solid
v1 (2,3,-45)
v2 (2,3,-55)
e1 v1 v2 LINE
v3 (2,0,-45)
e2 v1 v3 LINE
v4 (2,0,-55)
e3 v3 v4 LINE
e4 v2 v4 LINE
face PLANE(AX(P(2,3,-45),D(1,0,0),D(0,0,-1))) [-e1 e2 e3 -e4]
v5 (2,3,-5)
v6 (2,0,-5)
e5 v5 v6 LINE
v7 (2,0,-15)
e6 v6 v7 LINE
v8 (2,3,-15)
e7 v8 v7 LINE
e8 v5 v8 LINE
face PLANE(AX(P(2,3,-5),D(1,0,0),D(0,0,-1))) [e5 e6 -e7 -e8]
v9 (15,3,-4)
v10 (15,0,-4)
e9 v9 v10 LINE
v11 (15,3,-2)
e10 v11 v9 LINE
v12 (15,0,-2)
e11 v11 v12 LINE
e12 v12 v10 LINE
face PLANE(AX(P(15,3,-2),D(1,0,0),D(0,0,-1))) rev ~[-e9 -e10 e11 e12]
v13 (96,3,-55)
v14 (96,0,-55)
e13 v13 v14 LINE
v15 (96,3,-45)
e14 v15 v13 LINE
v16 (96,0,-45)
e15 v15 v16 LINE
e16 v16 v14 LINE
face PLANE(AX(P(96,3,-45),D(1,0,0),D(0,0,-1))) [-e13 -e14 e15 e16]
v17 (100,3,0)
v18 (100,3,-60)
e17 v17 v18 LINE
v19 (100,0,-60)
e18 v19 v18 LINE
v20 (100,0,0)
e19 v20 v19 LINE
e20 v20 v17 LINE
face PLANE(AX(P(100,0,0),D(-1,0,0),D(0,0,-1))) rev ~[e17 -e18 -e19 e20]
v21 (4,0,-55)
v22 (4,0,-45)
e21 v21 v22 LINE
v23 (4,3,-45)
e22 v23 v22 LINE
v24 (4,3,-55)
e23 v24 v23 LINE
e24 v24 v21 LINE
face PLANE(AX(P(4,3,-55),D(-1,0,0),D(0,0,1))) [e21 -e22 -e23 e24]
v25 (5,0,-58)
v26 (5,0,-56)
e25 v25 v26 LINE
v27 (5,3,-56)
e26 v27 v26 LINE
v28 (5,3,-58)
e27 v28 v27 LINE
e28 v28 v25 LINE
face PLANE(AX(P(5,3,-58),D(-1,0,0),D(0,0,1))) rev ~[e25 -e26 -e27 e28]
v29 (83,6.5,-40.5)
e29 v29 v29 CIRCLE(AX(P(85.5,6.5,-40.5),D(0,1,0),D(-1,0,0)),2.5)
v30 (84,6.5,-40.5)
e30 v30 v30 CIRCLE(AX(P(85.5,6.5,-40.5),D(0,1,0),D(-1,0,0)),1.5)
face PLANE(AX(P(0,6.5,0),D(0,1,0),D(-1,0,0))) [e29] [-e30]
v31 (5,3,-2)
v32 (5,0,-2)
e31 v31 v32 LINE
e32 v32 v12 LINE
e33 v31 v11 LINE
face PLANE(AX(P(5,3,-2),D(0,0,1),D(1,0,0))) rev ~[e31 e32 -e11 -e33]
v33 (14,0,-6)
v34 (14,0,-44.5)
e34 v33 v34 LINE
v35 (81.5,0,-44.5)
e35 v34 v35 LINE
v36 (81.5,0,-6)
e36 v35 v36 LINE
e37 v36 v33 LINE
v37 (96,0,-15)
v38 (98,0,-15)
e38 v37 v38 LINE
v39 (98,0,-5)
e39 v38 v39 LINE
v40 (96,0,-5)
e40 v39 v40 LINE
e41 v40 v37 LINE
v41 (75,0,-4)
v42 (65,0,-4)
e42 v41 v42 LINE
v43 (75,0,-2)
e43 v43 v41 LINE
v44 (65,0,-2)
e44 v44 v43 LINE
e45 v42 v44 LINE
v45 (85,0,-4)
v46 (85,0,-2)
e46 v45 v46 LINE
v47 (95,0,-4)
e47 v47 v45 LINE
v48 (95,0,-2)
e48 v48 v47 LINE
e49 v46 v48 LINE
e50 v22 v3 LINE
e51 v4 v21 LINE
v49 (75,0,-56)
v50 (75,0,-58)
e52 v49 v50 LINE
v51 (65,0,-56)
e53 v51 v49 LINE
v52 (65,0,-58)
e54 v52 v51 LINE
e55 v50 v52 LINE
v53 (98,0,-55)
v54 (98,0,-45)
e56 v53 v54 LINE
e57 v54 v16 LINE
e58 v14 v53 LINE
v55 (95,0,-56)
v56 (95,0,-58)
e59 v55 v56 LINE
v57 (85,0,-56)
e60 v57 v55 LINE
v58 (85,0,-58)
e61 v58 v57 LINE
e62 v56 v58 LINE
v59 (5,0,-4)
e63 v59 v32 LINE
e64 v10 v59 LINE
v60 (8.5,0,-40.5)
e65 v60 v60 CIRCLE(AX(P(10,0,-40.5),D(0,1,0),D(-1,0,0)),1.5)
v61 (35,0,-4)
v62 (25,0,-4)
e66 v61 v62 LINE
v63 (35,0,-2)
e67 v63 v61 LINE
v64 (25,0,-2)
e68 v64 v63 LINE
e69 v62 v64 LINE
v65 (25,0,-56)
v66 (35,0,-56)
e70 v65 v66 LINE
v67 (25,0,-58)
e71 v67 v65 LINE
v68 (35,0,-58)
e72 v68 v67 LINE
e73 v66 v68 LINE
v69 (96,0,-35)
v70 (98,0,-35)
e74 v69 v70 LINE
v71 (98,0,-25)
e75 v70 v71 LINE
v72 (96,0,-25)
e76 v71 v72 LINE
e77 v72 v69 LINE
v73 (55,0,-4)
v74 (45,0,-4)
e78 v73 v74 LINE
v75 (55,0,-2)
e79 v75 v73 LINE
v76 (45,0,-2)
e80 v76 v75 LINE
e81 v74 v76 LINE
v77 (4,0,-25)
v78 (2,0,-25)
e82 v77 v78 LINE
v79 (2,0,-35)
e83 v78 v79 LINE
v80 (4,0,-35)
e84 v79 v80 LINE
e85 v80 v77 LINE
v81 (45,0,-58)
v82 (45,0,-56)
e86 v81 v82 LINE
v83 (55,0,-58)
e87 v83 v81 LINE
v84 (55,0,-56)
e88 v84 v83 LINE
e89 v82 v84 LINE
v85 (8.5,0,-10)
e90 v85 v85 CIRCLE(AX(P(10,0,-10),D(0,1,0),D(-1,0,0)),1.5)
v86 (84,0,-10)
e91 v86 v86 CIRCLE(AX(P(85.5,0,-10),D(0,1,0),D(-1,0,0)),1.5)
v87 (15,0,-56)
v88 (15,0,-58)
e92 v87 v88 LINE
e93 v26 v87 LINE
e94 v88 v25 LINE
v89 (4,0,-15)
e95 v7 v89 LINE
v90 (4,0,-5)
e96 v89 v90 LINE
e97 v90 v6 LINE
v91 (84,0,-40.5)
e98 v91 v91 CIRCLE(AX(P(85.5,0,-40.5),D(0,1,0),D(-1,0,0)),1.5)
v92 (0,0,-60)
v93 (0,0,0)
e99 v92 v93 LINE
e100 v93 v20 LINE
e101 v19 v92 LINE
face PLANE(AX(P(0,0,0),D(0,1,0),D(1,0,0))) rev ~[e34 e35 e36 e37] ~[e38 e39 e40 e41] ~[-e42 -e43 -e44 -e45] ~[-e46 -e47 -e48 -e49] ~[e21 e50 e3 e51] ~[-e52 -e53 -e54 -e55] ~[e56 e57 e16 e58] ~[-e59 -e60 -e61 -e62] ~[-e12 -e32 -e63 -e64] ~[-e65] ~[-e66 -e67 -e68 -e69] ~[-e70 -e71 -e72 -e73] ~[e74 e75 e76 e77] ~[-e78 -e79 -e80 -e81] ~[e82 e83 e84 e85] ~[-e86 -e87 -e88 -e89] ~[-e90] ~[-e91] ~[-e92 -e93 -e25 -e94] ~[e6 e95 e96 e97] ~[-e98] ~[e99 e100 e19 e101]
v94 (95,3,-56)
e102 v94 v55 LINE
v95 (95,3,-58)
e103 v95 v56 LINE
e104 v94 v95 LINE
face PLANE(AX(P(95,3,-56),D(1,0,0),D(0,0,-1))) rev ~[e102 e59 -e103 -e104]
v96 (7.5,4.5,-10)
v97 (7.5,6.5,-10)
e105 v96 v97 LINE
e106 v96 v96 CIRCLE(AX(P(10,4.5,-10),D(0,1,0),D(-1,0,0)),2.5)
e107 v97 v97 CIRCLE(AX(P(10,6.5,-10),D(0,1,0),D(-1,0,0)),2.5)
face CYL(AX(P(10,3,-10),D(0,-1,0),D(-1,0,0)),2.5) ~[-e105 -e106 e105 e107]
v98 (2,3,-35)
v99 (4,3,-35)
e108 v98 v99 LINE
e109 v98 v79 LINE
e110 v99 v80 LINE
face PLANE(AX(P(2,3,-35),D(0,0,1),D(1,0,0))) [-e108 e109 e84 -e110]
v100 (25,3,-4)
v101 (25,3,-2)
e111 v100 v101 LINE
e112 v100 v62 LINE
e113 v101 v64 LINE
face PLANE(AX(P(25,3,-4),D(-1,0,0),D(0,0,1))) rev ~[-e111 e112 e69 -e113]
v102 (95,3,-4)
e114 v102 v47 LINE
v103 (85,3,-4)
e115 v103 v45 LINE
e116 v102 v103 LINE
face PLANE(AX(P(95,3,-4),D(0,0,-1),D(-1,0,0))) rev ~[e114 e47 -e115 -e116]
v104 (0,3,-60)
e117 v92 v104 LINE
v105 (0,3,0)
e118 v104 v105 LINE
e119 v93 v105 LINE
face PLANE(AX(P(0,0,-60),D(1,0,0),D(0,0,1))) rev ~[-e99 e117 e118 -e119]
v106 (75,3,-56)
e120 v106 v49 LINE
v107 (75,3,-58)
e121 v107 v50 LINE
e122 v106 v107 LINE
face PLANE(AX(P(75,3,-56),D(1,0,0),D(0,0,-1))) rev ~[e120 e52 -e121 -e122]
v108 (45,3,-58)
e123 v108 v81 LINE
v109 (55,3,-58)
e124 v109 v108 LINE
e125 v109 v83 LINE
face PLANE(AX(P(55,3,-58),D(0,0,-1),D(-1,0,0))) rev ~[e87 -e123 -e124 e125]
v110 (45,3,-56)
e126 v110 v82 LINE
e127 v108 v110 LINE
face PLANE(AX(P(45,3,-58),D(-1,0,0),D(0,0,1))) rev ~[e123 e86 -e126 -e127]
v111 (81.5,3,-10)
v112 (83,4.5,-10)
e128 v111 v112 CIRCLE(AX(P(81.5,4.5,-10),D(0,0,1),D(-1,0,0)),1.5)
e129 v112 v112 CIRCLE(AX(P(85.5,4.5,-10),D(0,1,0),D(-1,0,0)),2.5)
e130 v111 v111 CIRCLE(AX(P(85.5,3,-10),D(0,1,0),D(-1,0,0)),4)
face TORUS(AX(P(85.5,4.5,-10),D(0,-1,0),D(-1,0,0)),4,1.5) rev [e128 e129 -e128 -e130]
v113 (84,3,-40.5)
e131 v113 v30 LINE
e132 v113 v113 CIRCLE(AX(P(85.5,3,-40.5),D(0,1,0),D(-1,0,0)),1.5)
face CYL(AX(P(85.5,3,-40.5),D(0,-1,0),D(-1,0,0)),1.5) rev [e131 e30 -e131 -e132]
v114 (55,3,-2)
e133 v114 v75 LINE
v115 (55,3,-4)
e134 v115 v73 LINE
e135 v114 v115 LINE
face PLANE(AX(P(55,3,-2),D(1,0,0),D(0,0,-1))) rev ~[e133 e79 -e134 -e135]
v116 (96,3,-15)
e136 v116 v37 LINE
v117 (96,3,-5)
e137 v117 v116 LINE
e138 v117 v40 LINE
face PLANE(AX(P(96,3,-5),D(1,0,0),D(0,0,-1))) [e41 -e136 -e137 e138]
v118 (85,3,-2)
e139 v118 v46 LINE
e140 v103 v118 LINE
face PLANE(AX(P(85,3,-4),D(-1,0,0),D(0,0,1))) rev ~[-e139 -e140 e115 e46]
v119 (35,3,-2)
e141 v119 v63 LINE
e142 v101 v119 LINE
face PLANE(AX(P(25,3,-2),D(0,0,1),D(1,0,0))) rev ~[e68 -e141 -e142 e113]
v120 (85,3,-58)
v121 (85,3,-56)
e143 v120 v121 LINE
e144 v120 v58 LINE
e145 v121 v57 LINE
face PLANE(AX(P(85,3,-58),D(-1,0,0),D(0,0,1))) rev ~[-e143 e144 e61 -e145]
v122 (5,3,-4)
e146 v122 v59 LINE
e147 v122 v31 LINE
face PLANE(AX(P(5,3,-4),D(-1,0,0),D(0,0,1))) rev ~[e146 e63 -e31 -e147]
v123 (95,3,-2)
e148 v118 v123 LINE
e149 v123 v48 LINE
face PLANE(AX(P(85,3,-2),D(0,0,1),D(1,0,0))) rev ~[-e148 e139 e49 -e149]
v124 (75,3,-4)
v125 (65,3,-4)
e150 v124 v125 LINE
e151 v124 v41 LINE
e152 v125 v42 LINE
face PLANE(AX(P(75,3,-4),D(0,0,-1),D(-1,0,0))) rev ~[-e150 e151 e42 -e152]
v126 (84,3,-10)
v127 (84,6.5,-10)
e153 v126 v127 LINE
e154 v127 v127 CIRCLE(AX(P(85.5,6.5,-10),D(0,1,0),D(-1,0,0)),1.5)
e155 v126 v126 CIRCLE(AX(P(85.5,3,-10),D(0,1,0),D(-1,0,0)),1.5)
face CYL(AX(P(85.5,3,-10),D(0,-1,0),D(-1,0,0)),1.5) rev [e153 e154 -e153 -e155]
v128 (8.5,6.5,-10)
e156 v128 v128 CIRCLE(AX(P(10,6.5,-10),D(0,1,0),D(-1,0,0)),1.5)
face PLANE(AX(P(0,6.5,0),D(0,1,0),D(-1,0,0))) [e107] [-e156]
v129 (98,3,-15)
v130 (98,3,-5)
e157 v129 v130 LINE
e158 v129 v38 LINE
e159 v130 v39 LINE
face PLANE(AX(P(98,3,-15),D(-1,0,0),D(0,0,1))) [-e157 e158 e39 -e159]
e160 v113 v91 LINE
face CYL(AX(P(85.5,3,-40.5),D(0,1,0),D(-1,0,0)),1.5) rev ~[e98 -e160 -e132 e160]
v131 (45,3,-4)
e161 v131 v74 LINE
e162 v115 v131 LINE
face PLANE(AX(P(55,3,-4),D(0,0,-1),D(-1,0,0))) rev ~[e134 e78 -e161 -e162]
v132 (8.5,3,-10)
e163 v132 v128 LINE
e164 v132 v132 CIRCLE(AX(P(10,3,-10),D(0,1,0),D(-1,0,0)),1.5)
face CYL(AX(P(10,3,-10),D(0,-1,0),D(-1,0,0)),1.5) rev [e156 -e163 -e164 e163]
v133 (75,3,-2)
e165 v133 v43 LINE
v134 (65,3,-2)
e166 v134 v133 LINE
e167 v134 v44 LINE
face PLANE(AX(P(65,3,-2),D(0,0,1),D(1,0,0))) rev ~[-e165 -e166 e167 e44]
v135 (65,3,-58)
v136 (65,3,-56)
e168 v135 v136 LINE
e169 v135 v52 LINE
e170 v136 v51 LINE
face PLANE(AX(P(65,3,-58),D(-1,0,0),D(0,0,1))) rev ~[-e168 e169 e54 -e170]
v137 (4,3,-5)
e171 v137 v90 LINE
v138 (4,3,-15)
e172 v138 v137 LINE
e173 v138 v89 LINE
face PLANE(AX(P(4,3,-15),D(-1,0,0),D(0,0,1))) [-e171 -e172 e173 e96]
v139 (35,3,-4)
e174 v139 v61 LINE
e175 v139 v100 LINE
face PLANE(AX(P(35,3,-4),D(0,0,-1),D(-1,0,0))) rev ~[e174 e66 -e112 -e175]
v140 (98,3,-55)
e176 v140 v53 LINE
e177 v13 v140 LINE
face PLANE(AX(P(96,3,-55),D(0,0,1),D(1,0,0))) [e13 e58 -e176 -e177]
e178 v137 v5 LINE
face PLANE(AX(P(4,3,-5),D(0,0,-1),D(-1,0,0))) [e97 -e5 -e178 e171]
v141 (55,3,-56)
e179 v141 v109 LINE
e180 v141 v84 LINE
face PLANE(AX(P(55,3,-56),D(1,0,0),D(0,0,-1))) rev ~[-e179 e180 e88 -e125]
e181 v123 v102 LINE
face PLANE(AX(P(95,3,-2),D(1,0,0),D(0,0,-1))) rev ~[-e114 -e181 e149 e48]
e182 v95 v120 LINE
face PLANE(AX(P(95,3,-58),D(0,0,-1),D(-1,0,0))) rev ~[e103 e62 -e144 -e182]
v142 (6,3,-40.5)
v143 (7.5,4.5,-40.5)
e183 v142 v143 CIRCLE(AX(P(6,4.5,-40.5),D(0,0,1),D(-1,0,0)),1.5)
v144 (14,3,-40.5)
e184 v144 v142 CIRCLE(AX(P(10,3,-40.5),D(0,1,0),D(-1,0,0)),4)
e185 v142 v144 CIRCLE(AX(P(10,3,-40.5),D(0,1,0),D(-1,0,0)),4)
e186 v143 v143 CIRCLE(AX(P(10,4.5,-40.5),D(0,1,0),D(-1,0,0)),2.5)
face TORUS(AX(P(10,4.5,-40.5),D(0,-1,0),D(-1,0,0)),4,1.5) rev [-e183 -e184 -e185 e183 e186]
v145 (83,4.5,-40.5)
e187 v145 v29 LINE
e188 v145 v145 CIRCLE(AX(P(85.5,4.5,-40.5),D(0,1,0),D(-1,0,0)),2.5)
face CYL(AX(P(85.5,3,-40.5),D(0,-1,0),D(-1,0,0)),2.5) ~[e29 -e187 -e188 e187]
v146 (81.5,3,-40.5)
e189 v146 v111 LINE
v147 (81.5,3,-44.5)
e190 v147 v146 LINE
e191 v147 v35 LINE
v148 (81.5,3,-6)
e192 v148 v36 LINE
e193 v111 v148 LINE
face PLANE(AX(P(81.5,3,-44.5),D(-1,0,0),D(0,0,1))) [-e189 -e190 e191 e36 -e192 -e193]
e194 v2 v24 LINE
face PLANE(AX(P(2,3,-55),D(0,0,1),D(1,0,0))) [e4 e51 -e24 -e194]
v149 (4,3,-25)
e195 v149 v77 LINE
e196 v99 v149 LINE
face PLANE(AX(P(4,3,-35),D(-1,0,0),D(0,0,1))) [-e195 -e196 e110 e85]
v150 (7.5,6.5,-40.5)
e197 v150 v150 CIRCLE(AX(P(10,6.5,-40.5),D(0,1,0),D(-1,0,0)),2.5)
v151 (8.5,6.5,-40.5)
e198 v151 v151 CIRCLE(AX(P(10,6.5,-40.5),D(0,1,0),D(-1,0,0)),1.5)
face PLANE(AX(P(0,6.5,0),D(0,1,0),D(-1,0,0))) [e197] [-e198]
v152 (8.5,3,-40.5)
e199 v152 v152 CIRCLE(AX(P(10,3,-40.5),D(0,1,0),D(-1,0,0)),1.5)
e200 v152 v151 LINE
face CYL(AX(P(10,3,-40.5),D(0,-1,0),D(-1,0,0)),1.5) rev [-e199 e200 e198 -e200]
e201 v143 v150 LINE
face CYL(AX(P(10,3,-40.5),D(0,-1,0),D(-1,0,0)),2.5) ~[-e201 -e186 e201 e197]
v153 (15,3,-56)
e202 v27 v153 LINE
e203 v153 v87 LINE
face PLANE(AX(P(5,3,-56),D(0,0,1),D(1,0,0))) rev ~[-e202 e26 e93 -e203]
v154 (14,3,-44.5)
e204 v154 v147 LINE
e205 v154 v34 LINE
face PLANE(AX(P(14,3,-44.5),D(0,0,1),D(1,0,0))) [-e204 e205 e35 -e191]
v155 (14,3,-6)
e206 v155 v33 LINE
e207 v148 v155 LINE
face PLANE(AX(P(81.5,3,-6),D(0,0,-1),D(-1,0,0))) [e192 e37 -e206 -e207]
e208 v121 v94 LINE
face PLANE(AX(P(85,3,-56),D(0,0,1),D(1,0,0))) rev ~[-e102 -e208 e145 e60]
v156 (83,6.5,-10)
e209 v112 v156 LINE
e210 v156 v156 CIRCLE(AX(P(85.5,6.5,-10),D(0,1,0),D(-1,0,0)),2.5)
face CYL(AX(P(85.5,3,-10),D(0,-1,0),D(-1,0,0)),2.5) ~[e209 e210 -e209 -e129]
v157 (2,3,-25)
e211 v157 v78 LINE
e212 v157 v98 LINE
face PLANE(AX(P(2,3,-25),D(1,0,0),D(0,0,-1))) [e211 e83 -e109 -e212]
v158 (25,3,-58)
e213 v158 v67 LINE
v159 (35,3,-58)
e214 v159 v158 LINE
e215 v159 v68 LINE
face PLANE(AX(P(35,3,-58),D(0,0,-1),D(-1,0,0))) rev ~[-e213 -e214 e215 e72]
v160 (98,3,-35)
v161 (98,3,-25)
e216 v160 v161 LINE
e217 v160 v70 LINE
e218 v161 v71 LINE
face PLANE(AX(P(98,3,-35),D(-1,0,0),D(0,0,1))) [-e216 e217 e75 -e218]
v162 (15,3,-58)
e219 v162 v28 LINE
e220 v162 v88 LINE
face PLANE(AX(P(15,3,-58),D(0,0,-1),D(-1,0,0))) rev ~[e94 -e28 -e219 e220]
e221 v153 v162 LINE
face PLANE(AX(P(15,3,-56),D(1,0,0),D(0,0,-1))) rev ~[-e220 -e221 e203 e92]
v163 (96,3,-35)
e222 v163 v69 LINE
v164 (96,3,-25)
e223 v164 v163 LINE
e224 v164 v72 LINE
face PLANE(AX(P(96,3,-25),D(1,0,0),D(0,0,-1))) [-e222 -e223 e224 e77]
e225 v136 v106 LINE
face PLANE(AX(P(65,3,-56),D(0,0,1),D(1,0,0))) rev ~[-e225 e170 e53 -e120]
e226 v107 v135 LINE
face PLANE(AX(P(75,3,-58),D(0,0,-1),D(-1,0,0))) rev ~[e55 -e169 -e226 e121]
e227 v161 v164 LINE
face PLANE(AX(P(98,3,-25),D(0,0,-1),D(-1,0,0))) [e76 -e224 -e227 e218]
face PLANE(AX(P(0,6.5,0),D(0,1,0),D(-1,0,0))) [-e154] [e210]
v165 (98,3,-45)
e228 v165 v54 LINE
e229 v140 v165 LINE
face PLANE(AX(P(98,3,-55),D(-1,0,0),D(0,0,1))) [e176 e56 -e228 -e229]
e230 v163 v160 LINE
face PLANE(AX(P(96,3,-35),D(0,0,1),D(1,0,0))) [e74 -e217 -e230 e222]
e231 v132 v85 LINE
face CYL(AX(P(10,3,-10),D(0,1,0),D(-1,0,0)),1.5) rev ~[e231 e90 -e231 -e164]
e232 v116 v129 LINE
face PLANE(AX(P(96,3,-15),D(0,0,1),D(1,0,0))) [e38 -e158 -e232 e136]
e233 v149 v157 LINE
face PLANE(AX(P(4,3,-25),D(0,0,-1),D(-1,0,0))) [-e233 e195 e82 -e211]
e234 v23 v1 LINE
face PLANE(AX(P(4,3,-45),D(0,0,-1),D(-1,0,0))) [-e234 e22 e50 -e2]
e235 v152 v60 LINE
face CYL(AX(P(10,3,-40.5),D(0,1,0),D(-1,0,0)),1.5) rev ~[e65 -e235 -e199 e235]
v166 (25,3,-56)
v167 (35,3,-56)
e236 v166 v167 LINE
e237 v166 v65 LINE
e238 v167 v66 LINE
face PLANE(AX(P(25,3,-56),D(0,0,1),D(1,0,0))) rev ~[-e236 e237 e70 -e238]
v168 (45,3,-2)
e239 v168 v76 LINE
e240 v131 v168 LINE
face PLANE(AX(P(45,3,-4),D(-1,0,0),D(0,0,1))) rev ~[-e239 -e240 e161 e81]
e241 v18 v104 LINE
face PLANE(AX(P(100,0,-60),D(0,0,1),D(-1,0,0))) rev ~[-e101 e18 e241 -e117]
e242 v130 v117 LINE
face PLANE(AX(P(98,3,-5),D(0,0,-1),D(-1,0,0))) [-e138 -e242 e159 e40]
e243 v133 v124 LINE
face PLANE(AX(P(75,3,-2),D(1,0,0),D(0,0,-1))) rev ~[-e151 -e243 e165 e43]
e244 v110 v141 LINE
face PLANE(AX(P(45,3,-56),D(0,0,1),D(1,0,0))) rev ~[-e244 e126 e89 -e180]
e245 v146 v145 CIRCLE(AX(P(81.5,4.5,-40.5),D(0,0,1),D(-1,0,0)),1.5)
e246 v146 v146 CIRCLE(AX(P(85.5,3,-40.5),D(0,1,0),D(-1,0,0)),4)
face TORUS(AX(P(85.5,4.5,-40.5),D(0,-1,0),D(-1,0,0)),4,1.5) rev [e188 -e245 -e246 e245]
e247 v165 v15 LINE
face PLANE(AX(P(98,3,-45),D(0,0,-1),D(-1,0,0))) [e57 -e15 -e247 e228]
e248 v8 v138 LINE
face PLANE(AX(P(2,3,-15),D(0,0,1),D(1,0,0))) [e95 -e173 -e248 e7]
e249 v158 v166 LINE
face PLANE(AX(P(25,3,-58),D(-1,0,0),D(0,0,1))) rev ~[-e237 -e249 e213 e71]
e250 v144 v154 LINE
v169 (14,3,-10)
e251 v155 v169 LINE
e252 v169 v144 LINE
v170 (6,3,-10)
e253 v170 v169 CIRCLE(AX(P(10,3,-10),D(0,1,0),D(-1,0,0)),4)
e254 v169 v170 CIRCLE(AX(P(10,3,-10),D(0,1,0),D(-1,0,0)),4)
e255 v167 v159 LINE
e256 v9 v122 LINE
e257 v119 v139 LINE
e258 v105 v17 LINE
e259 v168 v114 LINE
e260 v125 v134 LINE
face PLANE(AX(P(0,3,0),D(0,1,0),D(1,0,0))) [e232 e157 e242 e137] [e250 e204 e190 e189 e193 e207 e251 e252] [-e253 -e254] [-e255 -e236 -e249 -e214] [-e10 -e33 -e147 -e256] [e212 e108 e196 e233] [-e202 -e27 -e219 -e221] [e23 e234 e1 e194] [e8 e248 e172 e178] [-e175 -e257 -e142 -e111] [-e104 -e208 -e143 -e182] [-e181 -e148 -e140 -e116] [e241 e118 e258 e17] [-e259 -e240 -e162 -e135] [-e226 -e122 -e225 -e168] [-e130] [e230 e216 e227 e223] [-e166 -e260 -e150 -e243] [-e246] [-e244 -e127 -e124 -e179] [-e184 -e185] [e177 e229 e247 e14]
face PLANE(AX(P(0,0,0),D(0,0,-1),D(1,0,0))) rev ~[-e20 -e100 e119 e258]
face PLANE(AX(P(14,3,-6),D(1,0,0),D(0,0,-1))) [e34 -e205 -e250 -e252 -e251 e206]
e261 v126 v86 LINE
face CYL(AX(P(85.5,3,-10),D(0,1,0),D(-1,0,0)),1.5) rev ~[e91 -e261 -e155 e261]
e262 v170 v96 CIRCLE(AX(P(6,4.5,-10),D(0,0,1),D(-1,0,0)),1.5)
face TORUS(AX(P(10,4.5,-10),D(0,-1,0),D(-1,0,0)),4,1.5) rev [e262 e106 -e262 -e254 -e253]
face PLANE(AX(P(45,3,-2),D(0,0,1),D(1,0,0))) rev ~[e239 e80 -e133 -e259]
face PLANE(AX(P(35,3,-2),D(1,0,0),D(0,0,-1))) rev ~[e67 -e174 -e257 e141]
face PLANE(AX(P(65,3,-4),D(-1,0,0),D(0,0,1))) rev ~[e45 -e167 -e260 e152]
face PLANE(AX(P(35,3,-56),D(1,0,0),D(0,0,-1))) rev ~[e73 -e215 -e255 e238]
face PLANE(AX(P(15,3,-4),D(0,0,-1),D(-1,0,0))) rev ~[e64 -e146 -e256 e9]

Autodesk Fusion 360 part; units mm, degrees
sketch "Sketch1" plane through (0, 0, 0) normal (0, 1, 0) x (1, 0, 0)
  line L0 (0, 0) -> (100, 0)
  line L1 (100, 0) -> (100, 60)
  line L2 (100, 60) -> (0, 60)
  line L3 (0, 60) -> (0, 0)
  dimension "d1" = 100
  dimension "d2" = 60
extrude "Extrude1" add sketch "Sketch1" along normal blind 3
sketch "Sketch2" plane through (0, 3, 0) normal (0, 1, 0) x (-1, 0, 0)
  line L0 (0, -60) -> (0, 0)
  line L1 (0, 0) -> (-100, 0)
  line L2 (-100, 0) -> (-100, -60)
  line L3 (-100, -60) -> (0, -60)
  line L4 (-5, -2) -> (-15, -2)
  line L5 (-15, -2) -> (-15, -4)
  line L6 (-15, -4) -> (-5, -4)
  line L7 (-5, -4) -> (-5, -2)
  line L8 (-25, -2) -> (-35, -2)
  line L9 (-35, -2) -> (-35, -4)
  line L10 (-35, -4) -> (-25, -4)
  line L11 (-25, -4) -> (-25, -2)
  line L12 (-45, -2) -> (-55, -2)
  line L13 (-55, -2) -> (-55, -4)
  line L14 (-55, -4) -> (-45, -4)
  line L15 (-45, -4) -> (-45, -2)
  line L16 (-65, -2) -> (-75, -2)
  line L17 (-75, -2) -> (-75, -4)
  line L18 (-75, -4) -> (-65, -4)
  line L19 (-65, -4) -> (-65, -2)
  line L20 (-5, -56) -> (-15, -56)
  line L21 (-15, -56) -> (-15, -58)
  line L22 (-15, -58) -> (-5, -58)
  line L23 (-5, -58) -> (-5, -56)
  line L24 (-25, -56) -> (-35, -56)
  line L25 (-35, -56) -> (-35, -58)
  line L26 (-35, -58) -> (-25, -58)
  line L27 (-25, -58) -> (-25, -56)
  line L28 (-45, -56) -> (-55, -56)
  line L29 (-55, -56) -> (-55, -58)
  line L30 (-55, -58) -> (-45, -58)
  line L31 (-45, -58) -> (-45, -56)
  line L32 (-65, -56) -> (-75, -56)
  line L33 (-75, -56) -> (-75, -58)
  line L34 (-75, -58) -> (-65, -58)
  line L35 (-65, -58) -> (-65, -56)
  line L36 (-4, -5) -> (-2, -5)
  line L37 (-2, -5) -> (-2, -15)
  line L38 (-2, -15) -> (-4, -15)
  line L39 (-4, -15) -> (-4, -5)
  line L40 (-98, -15) -> (-98, -5)
  line L41 (-98, -5) -> (-96, -5)
  line L42 (-96, -5) -> (-96, -15)
  line L43 (-96, -15) -> (-98, -15)
  line L44 (-4, -35) -> (-4, -25)
  line L45 (-4, -25) -> (-2, -25)
  line L46 (-2, -25) -> (-2, -35)
  line L47 (-2, -35) -> (-4, -35)
  line L48 (-98, -35) -> (-98, -25)
  line L49 (-98, -25) -> (-96, -25)
  line L50 (-96, -25) -> (-96, -35)
  line L51 (-96, -35) -> (-98, -35)
  line L52 (-85, -2) -> (-95, -2)
  line L53 (-95, -2) -> (-95, -4)
  line L54 (-95, -4) -> (-85, -4)
  line L55 (-85, -4) -> (-85, -2)
  line L56 (-85, -56) -> (-95, -56)
  line L57 (-95, -56) -> (-95, -58)
  line L58 (-95, -58) -> (-85, -58)
  line L59 (-85, -58) -> (-85, -56)
  line L60 (-4, -55) -> (-4, -45)
  line L61 (-4, -45) -> (-2, -45)
  line L62 (-2, -45) -> (-2, -55)
  line L63 (-2, -55) -> (-4, -55)
  line L64 (-98, -55) -> (-98, -45)
  line L65 (-98, -45) -> (-96, -45)
  line L66 (-96, -45) -> (-96, -55)
  line L67 (-96, -55) -> (-98, -55)
  dimension "d5" = 2
  dimension "d6" = 5
  dimension "d7" = 10
  dimension "d8" = 2
  dimension "d11" = -20
  dimension "d12" = -54
  dimension "d13" = 2
  dimension "d14" = 2
  dimension "d15" = 5
  dimension "d16" = 10
  dimension "d19" = -94
  dimension "d20" = -20
extrude "Extrude2" cut sketch "Sketch2" against normal blind 3 contours L4 L5 L6 L7 | L8 L9 L10 L11 | L12 L13 L14 L15 | L16 L17 L18 L19 | L20 L21 L22 L23 | L24 L25 L26 L27 | L28 L29 L30 L31 | L32 L33 L34 L35 | L36 L37 L38 L39 | L40 L41 L42 L43 | L44 L45 L46 L47 | L48 L49 L50 L51 | L52 L53 L54 L55 | L56 L57 L58 L59 | L60 L61 L62 L63 | L64 L65 L66 L67
sketch "Sketch3" plane through (0, 3, 0) normal (0, 1, 0) x (-1, 0, 0)
  line L0 (-4, -25) -> (-2, -25)
  line L1 (-2, -25) -> (-2, -35)
  line L2 (-2, -35) -> (-4, -35)
  line L3 (-4, -35) -> (-4, -25)
  line L4 (-75, -2) -> (-65, -2)
  line L5 (-65, -2) -> (-65, -4)
  line L6 (-65, -4) -> (-75, -4)
  line L7 (-75, -4) -> (-75, -2)
  line L8 (-55, -2) -> (-45, -2)
  line L9 (-45, -2) -> (-45, -4)
  line L10 (-45, -4) -> (-55, -4)
  line L11 (-55, -4) -> (-55, -2)
  line L12 (-2, -5) -> (-2, -15)
  line L13 (-2, -15) -> (-4, -15)
  line L14 (-4, -15) -> (-4, -5)
  line L15 (-4, -5) -> (-2, -5)
  line L16 (-15, -56) -> (-5, -56)
  line L17 (-5, -56) -> (-5, -58)
  line L18 (-5, -58) -> (-15, -58)
  line L19 (-15, -58) -> (-15, -56)
  line L20 (-55, -56) -> (-45, -56)
  line L21 (-45, -56) -> (-45, -58)
  line L22 (-45, -58) -> (-55, -58)
  line L23 (-55, -58) -> (-55, -56)
  line L24 (-75, -56) -> (-65, -56)
  line L25 (-65, -56) -> (-65, -58)
  line L26 (-65, -58) -> (-75, -58)
  line L27 (-75, -58) -> (-75, -56)
  line L28 (-15, -2) -> (-5, -2)
  line L29 (-5, -2) -> (-5, -4)
  line L30 (-5, -4) -> (-15, -4)
  line L31 (-15, -4) -> (-15, -2)
  line L32 (-35, -56) -> (-25, -56)
  line L33 (-25, -56) -> (-25, -58)
  line L34 (-25, -58) -> (-35, -58)
  line L35 (-35, -58) -> (-35, -56)
  line L36 (-98, -25) -> (-96, -25)
  line L37 (-96, -25) -> (-96, -35)
  line L38 (-96, -35) -> (-98, -35)
  line L39 (-98, -35) -> (-98, -25)
  line L40 (-35, -2) -> (-25, -2)
  line L41 (-25, -2) -> (-25, -4)
  line L42 (-25, -4) -> (-35, -4)
  line L43 (-35, -4) -> (-35, -2)
  line L44 (-98, -5) -> (-96, -5)
  line L45 (-96, -5) -> (-96, -15)
  line L46 (-96, -15) -> (-98, -15)
  line L47 (-98, -15) -> (-98, -5)
  line L48 (0, -60) -> (0, 0)
  line L49 (0, 0) -> (-100, 0)
  line L50 (-100, 0) -> (-100, -60)
  line L51 (-100, -60) -> (0, -60)
  circle A0 centre (-10, -10) radius 1.5
  circle A1 centre (-85.5, -10) radius 1.5
  line L52 (-95, -56) -> (-85, -56)
  line L53 (-85, -56) -> (-85, -58)
  line L54 (-85, -58) -> (-95, -58)
  line L55 (-95, -58) -> (-95, -56)
  line L56 (-95, -2) -> (-85, -2)
  line L57 (-85, -2) -> (-85, -4)
  line L58 (-85, -4) -> (-95, -4)
  line L59 (-95, -4) -> (-95, -2)
  circle A2 centre (-10, -40.5) radius 1.5
  circle A3 centre (-85.5, -40.5) radius 1.5
  line L60 (-4, -45) -> (-2, -45)
  line L61 (-2, -45) -> (-2, -55)
  line L62 (-2, -55) -> (-4, -55)
  line L63 (-4, -55) -> (-4, -45)
  line L64 (-98, -45) -> (-96, -45)
  line L65 (-96, -45) -> (-96, -55)
  line L66 (-96, -55) -> (-98, -55)
  line L67 (-98, -55) -> (-98, -45)
  dimension "d23" = 75.5
  dimension "d24" = 30.5
  dimension "d25" = 10
  dimension "d26" = 10
  dimension "d27" = 3
  dimension "d28" = 3
  dimension "d29" = 3
  dimension "d30" = 3
extrude "Extrude3" cut sketch "Sketch3" against normal blind 3 contours A0 | A1 | A2 | A3
sketch "Sketch4" plane through (0, 3, 0) normal (0, 1, 0) x (-1, 0, 0)
  circle A0 centre (-10, -40.5) radius 1.5
  circle A1 centre (-85.5, -40.5) radius 1.5
  circle A2 centre (-10, -10) radius 1.5
  circle A3 centre (-85.5, -10) radius 1.5
  line L0 (-95, -2) -> (-85, -2)
  line L1 (-85, -2) -> (-85, -4)
  line L2 (-85, -4) -> (-95, -4)
  line L3 (-95, -4) -> (-95, -2)
  line L4 (-4, -25) -> (-2, -25)
  line L5 (-2, -25) -> (-2, -35)
  line L6 (-2, -35) -> (-4, -35)
  line L7 (-4, -35) -> (-4, -25)
  line L8 (-75, -2) -> (-65, -2)
  line L9 (-65, -2) -> (-65, -4)
  line L10 (-65, -4) -> (-75, -4)
  line L11 (-75, -4) -> (-75, -2)
  line L12 (-55, -2) -> (-45, -2)
  line L13 (-45, -2) -> (-45, -4)
  line L14 (-45, -4) -> (-55, -4)
  line L15 (-55, -4) -> (-55, -2)
  line L16 (-2, -5) -> (-2, -15)
  line L17 (-2, -15) -> (-4, -15)
  line L18 (-4, -15) -> (-4, -5)
  line L19 (-4, -5) -> (-2, -5)
  line L20 (-15, -56) -> (-5, -56)
  line L21 (-5, -56) -> (-5, -58)
  line L22 (-5, -58) -> (-15, -58)
  line L23 (-15, -58) -> (-15, -56)
  line L24 (-55, -56) -> (-45, -56)
  line L25 (-45, -56) -> (-45, -58)
  line L26 (-45, -58) -> (-55, -58)
  line L27 (-55, -58) -> (-55, -56)
  line L28 (-4, -45) -> (-2, -45)
  line L29 (-2, -45) -> (-2, -55)
  line L30 (-2, -55) -> (-4, -55)
  line L31 (-4, -55) -> (-4, -45)
  line L32 (-95, -56) -> (-85, -56)
  line L33 (-85, -56) -> (-85, -58)
  line L34 (-85, -58) -> (-95, -58)
  line L35 (-95, -58) -> (-95, -56)
  line L36 (-75, -56) -> (-65, -56)
  line L37 (-65, -56) -> (-65, -58)
  line L38 (-65, -58) -> (-75, -58)
  line L39 (-75, -58) -> (-75, -56)
  line L40 (-15, -2) -> (-5, -2)
  line L41 (-5, -2) -> (-5, -4)
  line L42 (-5, -4) -> (-15, -4)
  line L43 (-15, -4) -> (-15, -2)
  line L44 (-35, -56) -> (-25, -56)
  line L45 (-25, -56) -> (-25, -58)
  line L46 (-25, -58) -> (-35, -58)
  line L47 (-35, -58) -> (-35, -56)
  line L48 (-98, -25) -> (-96, -25)
  line L49 (-96, -25) -> (-96, -35)
  line L50 (-96, -35) -> (-98, -35)
  line L51 (-98, -35) -> (-98, -25)
  line L52 (-35, -2) -> (-25, -2)
  line L53 (-25, -2) -> (-25, -4)
  line L54 (-25, -4) -> (-35, -4)
  line L55 (-35, -4) -> (-35, -2)
  line L56 (-98, -5) -> (-96, -5)
  line L57 (-96, -5) -> (-96, -15)
  line L58 (-96, -15) -> (-98, -15)
  line L59 (-98, -15) -> (-98, -5)
  line L60 (-98, -45) -> (-96, -45)
  line L61 (-96, -45) -> (-96, -55)
  line L62 (-96, -55) -> (-98, -55)
  line L63 (-98, -55) -> (-98, -45)
  line L64 (0, -60) -> (0, 0)
  line L65 (0, 0) -> (-100, 0)
  line L66 (-100, 0) -> (-100, -60)
  line L67 (-100, -60) -> (0, -60)
  circle A4 centre (-10, -10) radius 2.5
  circle A5 centre (-10, -40.5) radius 2.5
  circle A6 centre (-85.5, -40.5) radius 2.5
  circle A7 centre (-85.5, -10) radius 2.5
  dimension "d33" = 5
  dimension "d34" = 5
  dimension "d35" = 5
  dimension "d36" = 5
extrude "Extrude4" add sketch "Sketch4" along normal blind 3.5 contours A4 | A5 | A6 | A7
sketch "Sketch5" plane through (0, 3, 0) normal (0, 1, 0) x (-1, 0, 0)
  circle A0 centre (-85.5, -10) radius 2.5
  circle A1 centre (-10, -40.5) radius 2.5
  circle A2 centre (-85.5, -40.5) radius 2.5
  circle A3 centre (-10, -10) radius 2.5
  line L0 (-95, -2) -> (-85, -2)
  line L1 (-85, -2) -> (-85, -4)
  line L2 (-85, -4) -> (-95, -4)
  line L3 (-95, -4) -> (-95, -2)
  line L4 (-4, -25) -> (-2, -25)
  line L5 (-2, -25) -> (-2, -35)
  line L6 (-2, -35) -> (-4, -35)
  line L7 (-4, -35) -> (-4, -25)
  line L8 (-75, -2) -> (-65, -2)
  line L9 (-65, -2) -> (-65, -4)
  line L10 (-65, -4) -> (-75, -4)
  line L11 (-75, -4) -> (-75, -2)
  line L12 (-55, -2) -> (-45, -2)
  line L13 (-45, -2) -> (-45, -4)
  line L14 (-45, -4) -> (-55, -4)
  line L15 (-55, -4) -> (-55, -2)
  line L16 (-2, -5) -> (-2, -15)
  line L17 (-2, -15) -> (-4, -15)
  line L18 (-4, -15) -> (-4, -5)
  line L19 (-4, -5) -> (-2, -5)
  line L20 (-15, -56) -> (-5, -56)
  line L21 (-5, -56) -> (-5, -58)
  line L22 (-5, -58) -> (-15, -58)
  line L23 (-15, -58) -> (-15, -56)
  line L24 (-55, -56) -> (-45, -56)
  line L25 (-45, -56) -> (-45, -58)
  line L26 (-45, -58) -> (-55, -58)
  line L27 (-55, -58) -> (-55, -56)
  line L28 (-4, -45) -> (-2, -45)
  line L29 (-2, -45) -> (-2, -55)
  line L30 (-2, -55) -> (-4, -55)
  line L31 (-4, -55) -> (-4, -45)
  line L32 (-95, -56) -> (-85, -56)
  line L33 (-85, -56) -> (-85, -58)
  line L34 (-85, -58) -> (-95, -58)
  line L35 (-95, -58) -> (-95, -56)
  line L36 (-75, -56) -> (-65, -56)
  line L37 (-65, -56) -> (-65, -58)
  line L38 (-65, -58) -> (-75, -58)
  line L39 (-75, -58) -> (-75, -56)
  line L40 (-15, -2) -> (-5, -2)
  line L41 (-5, -2) -> (-5, -4)
  line L42 (-5, -4) -> (-15, -4)
  line L43 (-15, -4) -> (-15, -2)
  line L44 (-35, -56) -> (-25, -56)
  line L45 (-25, -56) -> (-25, -58)
  line L46 (-25, -58) -> (-35, -58)
  line L47 (-35, -58) -> (-35, -56)
  line L48 (-98, -25) -> (-96, -25)
  line L49 (-96, -25) -> (-96, -35)
  line L50 (-96, -35) -> (-98, -35)
  line L51 (-98, -35) -> (-98, -25)
  line L52 (-35, -2) -> (-25, -2)
  line L53 (-25, -2) -> (-25, -4)
  line L54 (-25, -4) -> (-35, -4)
  line L55 (-35, -4) -> (-35, -2)
  line L56 (-98, -5) -> (-96, -5)
  line L57 (-96, -5) -> (-96, -15)
  line L58 (-96, -15) -> (-98, -15)
  line L59 (-98, -15) -> (-98, -5)
  line L60 (-98, -45) -> (-96, -45)
  line L61 (-96, -45) -> (-96, -55)
  line L62 (-96, -55) -> (-98, -55)
  line L63 (-98, -55) -> (-98, -45)
  line L64 (0, -60) -> (0, 0)
  line L65 (0, 0) -> (-100, 0)
  line L66 (-100, 0) -> (-100, -60)
  line L67 (-100, -60) -> (0, -60)
  line L68 (-81.5, -6) -> (-14, -6)
  line L69 (-14, -6) -> (-14, -44.5)
  line L70 (-14, -44.5) -> (-81.5, -44.5)
  line L71 (-81.5, -44.5) -> (-81.5, -6)
  dimension "d39" = 4
  dimension "d40" = 6
  dimension "d42" = 15.5
  dimension "d43" = 4
extrude "Extrude5" cut sketch "Sketch5" against normal blind 3 contours L68 L69 L70 L71
fillet "Fillet1" radius 1.5 4 edges at (12.3308, 3, -9.096) (12.3308, 3, -39.596) (87.8308, 3, -39.596) (87.8308, 3, -9.096)
